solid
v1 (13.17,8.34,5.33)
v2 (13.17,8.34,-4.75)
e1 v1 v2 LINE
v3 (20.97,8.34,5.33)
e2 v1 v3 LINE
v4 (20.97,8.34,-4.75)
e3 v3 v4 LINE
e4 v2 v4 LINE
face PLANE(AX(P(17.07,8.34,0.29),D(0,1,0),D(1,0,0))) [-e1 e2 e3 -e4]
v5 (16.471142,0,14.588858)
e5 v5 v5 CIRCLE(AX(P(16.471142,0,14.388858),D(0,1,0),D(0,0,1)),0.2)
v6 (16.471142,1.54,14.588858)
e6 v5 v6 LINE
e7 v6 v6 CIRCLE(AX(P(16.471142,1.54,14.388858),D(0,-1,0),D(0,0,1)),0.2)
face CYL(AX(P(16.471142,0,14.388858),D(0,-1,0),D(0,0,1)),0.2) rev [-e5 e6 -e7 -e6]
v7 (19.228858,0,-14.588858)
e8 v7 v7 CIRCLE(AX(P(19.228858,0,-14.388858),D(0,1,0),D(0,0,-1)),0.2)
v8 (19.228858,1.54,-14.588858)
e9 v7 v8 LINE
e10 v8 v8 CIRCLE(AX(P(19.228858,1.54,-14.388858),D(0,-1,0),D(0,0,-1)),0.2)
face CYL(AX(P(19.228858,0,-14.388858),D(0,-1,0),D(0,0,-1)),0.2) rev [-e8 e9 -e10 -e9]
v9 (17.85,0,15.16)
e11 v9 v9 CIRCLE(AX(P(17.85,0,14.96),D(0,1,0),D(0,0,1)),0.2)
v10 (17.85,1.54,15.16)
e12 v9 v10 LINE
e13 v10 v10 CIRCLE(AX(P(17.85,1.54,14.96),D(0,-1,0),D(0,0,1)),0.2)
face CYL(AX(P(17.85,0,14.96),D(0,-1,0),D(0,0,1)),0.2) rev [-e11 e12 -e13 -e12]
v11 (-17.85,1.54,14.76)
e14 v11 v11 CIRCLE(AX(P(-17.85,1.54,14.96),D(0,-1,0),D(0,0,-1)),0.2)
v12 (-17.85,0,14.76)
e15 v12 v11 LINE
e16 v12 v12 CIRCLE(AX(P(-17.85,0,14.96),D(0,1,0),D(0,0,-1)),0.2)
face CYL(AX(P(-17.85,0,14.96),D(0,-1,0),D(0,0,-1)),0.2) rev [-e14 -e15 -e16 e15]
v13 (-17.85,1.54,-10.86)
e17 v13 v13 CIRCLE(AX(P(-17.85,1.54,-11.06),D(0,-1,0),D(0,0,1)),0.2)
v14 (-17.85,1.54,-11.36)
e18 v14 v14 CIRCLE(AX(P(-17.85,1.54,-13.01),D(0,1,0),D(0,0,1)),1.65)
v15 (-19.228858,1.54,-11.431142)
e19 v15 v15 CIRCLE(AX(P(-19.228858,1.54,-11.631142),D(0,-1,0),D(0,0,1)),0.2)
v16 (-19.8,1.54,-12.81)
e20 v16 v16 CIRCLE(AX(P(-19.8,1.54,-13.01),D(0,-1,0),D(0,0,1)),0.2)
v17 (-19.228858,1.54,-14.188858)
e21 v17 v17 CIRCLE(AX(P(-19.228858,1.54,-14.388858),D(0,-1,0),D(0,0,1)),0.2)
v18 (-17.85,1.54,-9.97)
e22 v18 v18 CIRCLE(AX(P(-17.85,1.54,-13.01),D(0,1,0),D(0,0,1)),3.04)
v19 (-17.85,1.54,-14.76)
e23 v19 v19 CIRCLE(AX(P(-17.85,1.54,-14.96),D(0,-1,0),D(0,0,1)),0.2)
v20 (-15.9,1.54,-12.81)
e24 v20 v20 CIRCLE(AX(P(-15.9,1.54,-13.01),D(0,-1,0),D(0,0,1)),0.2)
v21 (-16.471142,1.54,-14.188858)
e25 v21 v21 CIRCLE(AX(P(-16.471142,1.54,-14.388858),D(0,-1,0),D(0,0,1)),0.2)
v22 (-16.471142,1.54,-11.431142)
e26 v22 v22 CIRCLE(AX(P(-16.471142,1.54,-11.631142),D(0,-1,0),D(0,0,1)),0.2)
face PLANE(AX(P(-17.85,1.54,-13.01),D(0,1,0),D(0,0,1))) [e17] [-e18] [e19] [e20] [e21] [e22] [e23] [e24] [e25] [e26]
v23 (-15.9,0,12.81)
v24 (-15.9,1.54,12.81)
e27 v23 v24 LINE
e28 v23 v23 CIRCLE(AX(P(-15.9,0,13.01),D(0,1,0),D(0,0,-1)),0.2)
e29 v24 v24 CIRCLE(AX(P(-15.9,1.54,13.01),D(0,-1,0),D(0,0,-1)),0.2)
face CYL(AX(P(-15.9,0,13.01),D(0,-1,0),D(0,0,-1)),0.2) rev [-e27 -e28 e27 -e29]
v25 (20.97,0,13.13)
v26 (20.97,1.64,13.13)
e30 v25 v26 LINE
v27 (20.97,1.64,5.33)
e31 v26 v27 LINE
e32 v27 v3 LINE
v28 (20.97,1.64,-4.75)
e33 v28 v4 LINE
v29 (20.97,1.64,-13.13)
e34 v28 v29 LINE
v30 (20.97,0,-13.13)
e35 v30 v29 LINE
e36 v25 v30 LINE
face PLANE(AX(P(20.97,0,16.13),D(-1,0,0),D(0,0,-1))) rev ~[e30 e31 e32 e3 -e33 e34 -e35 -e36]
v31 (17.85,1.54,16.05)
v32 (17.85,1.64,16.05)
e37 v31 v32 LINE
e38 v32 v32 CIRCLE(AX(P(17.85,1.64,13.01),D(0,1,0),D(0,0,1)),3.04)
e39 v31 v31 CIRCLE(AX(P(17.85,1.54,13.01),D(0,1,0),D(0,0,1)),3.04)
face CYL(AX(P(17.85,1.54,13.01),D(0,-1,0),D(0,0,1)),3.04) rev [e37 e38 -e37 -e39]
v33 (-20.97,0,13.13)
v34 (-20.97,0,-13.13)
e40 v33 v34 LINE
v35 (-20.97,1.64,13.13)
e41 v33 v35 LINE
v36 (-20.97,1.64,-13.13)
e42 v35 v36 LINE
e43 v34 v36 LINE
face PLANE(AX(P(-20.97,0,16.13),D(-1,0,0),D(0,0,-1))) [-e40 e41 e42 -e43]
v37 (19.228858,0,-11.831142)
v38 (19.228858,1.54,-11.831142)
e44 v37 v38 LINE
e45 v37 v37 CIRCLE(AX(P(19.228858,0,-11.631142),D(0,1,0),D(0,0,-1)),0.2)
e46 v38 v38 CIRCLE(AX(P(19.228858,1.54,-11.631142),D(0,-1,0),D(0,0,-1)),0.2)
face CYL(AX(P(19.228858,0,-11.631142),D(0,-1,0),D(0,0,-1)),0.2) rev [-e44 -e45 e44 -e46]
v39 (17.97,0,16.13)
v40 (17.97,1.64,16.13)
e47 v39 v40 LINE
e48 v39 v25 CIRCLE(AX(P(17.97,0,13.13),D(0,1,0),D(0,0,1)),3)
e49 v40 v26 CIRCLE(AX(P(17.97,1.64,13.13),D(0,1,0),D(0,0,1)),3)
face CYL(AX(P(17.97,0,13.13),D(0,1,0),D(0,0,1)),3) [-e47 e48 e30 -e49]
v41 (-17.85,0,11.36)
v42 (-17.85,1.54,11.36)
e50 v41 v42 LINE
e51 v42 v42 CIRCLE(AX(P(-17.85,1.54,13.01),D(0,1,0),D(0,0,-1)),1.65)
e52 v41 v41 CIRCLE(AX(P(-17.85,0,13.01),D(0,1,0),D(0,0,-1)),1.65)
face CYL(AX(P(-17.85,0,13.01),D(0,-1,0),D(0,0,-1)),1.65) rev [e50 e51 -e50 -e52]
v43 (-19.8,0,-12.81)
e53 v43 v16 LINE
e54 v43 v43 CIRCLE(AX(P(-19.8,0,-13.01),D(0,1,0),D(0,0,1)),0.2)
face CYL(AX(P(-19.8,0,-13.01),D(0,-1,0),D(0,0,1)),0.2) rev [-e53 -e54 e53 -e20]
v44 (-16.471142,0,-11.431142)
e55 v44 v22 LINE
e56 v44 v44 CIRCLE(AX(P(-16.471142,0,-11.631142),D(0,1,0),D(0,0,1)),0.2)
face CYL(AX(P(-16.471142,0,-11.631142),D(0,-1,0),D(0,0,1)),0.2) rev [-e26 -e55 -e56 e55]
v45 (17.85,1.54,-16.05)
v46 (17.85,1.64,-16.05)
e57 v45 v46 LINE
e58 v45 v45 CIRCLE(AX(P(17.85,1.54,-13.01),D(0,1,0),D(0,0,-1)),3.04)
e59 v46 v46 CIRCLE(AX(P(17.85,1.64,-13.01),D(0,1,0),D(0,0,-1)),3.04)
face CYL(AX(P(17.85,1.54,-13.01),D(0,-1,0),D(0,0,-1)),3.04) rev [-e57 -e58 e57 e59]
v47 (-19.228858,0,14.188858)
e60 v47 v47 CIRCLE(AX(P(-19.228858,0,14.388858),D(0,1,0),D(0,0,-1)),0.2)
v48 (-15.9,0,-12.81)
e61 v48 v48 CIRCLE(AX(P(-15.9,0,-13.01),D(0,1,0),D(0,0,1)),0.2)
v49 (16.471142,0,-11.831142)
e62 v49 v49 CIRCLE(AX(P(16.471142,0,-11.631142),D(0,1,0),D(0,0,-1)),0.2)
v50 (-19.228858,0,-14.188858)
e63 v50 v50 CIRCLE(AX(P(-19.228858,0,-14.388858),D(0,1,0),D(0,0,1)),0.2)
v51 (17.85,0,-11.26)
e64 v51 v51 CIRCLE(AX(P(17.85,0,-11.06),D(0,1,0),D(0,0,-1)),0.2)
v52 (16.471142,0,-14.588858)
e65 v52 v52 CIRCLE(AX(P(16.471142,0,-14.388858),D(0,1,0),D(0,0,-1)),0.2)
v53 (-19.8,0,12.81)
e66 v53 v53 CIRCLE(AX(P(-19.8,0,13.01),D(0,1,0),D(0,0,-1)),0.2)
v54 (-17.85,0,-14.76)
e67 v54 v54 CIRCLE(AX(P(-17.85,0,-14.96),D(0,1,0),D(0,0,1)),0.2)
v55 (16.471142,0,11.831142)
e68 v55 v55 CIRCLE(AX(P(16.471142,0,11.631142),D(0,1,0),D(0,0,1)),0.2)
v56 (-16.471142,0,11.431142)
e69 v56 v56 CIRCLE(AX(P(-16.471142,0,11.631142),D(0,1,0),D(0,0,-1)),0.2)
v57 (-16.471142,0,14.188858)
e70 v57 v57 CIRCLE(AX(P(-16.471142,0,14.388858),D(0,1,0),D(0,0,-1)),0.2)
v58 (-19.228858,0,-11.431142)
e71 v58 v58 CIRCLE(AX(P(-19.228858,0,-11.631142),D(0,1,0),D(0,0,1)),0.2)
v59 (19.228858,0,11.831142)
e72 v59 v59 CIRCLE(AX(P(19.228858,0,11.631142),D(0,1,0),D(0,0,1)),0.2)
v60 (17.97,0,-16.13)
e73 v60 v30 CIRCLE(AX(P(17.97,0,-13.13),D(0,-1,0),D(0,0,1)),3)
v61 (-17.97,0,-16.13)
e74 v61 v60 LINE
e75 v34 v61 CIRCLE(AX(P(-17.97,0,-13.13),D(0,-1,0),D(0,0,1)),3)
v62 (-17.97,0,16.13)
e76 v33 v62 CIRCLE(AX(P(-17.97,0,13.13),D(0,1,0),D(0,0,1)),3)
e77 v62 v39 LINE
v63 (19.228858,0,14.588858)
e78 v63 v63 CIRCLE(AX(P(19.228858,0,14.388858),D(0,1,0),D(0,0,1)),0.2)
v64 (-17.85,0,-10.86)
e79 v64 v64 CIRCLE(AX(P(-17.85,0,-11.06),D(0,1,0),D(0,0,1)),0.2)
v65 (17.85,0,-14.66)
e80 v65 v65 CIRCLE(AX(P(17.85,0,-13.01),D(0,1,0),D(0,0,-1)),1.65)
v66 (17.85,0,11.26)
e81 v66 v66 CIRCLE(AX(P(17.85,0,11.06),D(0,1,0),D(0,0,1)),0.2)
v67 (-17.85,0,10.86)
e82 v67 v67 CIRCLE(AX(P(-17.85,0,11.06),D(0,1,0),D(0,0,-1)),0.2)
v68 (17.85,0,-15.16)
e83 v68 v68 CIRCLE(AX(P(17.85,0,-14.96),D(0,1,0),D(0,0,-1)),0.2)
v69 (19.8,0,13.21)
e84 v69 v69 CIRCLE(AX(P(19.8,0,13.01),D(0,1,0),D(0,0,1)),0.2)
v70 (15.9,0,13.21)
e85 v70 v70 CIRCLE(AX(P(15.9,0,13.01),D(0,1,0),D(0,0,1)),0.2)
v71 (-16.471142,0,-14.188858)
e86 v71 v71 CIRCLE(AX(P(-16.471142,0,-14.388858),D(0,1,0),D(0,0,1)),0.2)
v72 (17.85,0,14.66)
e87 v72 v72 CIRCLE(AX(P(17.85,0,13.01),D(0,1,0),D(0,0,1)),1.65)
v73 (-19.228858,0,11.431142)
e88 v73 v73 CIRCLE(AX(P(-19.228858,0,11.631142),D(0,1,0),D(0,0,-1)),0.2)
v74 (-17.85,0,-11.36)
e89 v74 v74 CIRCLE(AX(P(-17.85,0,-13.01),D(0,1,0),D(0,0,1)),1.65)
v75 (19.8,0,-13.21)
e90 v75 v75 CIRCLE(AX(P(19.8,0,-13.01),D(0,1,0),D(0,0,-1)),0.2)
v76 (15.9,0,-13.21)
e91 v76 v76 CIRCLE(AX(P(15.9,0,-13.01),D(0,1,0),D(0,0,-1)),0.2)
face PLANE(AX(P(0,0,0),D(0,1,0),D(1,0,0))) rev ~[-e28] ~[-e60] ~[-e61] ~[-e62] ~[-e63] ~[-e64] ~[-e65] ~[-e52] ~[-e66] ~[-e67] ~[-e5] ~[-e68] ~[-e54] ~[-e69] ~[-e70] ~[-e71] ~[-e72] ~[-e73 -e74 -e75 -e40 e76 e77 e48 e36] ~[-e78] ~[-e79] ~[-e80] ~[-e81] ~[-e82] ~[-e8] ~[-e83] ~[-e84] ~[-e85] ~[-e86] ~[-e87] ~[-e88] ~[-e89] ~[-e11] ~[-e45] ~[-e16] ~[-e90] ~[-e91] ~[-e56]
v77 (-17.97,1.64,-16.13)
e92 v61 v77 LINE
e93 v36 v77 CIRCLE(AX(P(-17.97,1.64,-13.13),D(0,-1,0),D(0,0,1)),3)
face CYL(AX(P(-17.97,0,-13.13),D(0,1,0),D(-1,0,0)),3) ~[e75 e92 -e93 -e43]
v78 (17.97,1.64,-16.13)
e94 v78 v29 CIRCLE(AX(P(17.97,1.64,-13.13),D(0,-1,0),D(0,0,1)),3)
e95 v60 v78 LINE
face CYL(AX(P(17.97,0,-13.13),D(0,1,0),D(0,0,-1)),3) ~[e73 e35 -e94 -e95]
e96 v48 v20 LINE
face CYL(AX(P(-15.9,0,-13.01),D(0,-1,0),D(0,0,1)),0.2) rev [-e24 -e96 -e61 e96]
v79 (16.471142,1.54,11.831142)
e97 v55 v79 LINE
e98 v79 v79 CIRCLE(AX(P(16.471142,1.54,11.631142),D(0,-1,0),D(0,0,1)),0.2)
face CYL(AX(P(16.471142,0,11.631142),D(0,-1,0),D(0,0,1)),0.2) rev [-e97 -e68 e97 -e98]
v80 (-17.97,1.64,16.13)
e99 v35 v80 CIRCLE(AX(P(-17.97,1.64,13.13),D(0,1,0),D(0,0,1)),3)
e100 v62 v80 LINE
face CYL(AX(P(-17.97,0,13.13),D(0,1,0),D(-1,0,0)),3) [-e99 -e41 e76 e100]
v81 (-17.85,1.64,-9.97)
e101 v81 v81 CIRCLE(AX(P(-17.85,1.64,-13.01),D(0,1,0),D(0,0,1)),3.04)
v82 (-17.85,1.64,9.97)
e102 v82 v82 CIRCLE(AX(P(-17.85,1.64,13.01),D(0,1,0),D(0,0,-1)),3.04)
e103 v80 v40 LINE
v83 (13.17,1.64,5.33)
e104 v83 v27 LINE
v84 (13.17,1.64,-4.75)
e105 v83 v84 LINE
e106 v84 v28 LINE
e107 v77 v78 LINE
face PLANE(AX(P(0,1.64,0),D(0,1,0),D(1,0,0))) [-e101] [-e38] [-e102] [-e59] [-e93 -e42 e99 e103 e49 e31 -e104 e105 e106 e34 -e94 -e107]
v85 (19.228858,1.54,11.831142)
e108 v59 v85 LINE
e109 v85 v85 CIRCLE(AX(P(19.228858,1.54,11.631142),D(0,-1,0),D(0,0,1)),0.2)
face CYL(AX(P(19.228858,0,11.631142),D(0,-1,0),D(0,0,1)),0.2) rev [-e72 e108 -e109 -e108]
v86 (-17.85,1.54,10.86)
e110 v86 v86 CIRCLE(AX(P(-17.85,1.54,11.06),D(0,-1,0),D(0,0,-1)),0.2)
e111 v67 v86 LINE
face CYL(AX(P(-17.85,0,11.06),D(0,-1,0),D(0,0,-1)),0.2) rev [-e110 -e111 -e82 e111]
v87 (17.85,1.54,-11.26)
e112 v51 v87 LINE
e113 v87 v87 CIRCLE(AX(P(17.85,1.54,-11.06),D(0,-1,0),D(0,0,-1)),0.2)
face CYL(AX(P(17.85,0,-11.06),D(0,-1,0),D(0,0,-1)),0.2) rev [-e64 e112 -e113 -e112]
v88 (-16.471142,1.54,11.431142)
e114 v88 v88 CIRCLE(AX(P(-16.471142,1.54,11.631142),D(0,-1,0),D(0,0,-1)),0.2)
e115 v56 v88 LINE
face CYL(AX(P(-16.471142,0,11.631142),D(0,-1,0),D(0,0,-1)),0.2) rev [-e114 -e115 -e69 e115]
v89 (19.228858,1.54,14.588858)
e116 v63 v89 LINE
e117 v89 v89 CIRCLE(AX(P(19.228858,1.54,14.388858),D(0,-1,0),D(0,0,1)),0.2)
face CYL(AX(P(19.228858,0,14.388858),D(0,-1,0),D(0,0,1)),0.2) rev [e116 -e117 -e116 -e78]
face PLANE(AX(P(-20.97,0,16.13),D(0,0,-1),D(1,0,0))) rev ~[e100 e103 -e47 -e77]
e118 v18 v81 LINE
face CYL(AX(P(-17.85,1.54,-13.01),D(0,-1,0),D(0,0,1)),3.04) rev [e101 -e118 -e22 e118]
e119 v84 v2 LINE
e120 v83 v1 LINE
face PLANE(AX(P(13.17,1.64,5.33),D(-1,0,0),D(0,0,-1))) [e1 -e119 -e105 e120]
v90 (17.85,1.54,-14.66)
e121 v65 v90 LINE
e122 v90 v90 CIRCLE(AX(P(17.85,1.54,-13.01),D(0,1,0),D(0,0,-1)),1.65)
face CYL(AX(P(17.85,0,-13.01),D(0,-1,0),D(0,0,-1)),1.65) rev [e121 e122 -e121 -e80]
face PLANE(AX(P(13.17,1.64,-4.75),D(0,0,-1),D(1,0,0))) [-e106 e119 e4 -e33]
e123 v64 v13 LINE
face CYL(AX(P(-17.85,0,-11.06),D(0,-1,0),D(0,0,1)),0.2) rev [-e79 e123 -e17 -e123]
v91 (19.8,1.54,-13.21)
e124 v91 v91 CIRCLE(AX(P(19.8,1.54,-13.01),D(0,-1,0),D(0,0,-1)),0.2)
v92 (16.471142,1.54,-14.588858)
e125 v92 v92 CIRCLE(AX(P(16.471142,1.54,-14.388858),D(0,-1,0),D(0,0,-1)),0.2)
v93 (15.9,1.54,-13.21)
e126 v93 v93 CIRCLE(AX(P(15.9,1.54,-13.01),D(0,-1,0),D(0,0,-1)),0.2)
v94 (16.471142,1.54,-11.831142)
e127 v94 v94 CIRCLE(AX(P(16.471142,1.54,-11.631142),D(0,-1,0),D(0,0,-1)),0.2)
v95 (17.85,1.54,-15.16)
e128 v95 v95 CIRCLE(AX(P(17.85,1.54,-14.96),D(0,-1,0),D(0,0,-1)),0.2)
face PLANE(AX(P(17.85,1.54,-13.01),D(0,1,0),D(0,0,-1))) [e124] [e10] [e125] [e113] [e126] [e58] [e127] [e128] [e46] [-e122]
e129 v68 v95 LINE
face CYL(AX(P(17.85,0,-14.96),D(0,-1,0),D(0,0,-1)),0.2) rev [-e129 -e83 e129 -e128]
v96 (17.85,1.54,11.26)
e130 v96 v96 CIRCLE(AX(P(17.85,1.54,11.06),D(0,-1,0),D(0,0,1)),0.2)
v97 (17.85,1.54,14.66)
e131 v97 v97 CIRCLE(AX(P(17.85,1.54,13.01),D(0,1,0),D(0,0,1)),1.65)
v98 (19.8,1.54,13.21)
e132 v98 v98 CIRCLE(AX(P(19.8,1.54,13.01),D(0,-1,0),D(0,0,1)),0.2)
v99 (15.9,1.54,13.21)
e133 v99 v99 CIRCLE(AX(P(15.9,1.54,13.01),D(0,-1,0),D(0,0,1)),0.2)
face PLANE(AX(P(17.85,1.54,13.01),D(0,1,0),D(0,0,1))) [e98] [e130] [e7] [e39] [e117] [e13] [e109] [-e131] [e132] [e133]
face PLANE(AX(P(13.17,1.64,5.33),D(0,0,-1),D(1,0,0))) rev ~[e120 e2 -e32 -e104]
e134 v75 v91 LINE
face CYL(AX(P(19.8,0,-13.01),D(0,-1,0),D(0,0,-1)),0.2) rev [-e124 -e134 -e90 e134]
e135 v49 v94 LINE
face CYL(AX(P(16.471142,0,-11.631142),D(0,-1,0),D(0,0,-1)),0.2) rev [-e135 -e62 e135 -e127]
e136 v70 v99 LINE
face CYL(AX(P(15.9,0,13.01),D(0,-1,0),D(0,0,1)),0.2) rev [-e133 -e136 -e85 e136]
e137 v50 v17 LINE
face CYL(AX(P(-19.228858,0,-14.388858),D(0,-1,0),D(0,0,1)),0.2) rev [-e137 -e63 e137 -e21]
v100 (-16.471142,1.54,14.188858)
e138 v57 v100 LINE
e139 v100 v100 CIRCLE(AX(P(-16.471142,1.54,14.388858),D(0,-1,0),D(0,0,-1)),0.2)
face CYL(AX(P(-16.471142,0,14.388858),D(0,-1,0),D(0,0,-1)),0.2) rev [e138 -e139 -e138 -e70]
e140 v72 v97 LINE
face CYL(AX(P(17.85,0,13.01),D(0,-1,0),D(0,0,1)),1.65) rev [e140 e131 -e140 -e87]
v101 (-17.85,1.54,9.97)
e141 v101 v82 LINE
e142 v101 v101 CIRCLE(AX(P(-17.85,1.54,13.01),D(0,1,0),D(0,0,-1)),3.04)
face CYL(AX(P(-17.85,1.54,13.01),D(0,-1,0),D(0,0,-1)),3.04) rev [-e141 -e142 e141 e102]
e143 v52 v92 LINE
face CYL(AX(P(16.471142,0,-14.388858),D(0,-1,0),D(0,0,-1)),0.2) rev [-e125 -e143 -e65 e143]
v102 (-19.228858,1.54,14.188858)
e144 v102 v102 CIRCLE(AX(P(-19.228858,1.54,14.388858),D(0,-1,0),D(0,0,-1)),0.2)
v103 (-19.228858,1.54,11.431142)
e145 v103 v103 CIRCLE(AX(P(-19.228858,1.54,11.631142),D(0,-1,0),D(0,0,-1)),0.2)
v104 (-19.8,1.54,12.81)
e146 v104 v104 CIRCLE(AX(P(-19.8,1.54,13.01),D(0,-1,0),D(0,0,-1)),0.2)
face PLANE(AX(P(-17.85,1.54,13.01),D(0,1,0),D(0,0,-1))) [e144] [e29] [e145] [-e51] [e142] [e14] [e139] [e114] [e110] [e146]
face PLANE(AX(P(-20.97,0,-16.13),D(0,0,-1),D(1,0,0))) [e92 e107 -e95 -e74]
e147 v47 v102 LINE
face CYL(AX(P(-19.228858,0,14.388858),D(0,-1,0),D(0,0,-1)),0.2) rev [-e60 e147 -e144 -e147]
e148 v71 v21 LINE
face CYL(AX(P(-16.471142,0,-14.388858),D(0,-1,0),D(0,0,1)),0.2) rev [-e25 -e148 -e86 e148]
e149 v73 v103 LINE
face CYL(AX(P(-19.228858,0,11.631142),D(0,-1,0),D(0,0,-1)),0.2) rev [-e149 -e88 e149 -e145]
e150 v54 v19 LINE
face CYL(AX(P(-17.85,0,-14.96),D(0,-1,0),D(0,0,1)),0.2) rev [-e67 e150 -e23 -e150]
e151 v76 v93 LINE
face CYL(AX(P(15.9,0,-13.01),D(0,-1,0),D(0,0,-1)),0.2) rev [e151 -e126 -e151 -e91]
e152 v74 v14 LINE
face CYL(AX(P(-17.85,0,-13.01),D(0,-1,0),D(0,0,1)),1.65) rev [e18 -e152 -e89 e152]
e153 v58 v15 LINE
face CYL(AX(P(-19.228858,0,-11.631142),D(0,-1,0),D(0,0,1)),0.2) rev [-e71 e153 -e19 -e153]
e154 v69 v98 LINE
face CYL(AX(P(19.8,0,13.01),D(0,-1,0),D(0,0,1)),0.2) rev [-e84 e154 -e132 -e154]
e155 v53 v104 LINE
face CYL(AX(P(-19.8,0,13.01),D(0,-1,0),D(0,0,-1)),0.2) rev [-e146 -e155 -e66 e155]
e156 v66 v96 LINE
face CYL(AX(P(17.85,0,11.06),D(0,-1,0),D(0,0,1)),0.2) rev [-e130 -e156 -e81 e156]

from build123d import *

# Parameters (mm, degrees)
CROQUIS1_W              = 41.94
CROQUIS1_H              = 32.26
CROQUIS1_R              = 1.65
CROQUIS1_R_2            = 0.2
SALIENTE_EXTRUIR1_DEPTH = 1.64
CORTAR_EXTRUIR1_START   = -0.1
CROQUIS2_R              = 3.04
CROQUIS2_R_2            = 1.65
CORTAR_EXTRUIR1_DEPTH   = 0.1
REDONDEO2_R             = 3
CROQUIS3_W              = 7.8
CROQUIS3_H              = 10.08
SALIENTE_EXTRUIR2_DEPTH = 6.7


with BuildPart() as part:
    # Croquis1 → Saliente-Extruir1 (new body)
    with BuildSketch(Plane(origin=(0, 0, 0), x_dir=(1, 0, 0), z_dir=(0, 1, 0))):
        Rectangle(CROQUIS1_W, CROQUIS1_H)
        with Locations(Location((-17.85, 13.01, 0), (0, 0, 270))):
            Circle(CROQUIS1_R, mode=Mode.SUBTRACT)
        with Locations(Location((17.85, 13.01, 0), (0, 0, 90))):
            Circle(CROQUIS1_R, mode=Mode.SUBTRACT)
        with Locations(Location((17.85, -13.01, 0), (0, 0, 270))):
            Circle(CROQUIS1_R, mode=Mode.SUBTRACT)
        with Locations(Location((-17.85, -13.01, 0), (0, 0, 90))):
            Circle(CROQUIS1_R, mode=Mode.SUBTRACT)
        with Locations(Location((-15.9, 13.01, 0), (0, 0, 270))):
            Circle(CROQUIS1_R_2, mode=Mode.SUBTRACT)
        with Locations(Location((-16.471141777, 11.631141777, 0), (0, 0, 270))):
            Circle(CROQUIS1_R_2, mode=Mode.SUBTRACT)
        with Locations(Location((-17.85, 11.06, 0), (0, 0, 270))):
            Circle(CROQUIS1_R_2, mode=Mode.SUBTRACT)
        with Locations(Location((-19.228858223, 11.631141777, 0), (0, 0, 270))):
            Circle(CROQUIS1_R_2, mode=Mode.SUBTRACT)
        with Locations(Location((-19.8, 13.01, 0), (0, 0, 270))):
            Circle(CROQUIS1_R_2, mode=Mode.SUBTRACT)
        with Locations(Location((-19.228858223, 14.388858223, 0), (0, 0, 270))):
            Circle(CROQUIS1_R_2, mode=Mode.SUBTRACT)
        with Locations(Location((-17.85, 14.96, 0), (0, 0, 270))):
            Circle(CROQUIS1_R_2, mode=Mode.SUBTRACT)
        with Locations(Location((-16.471141777, 14.388858223, 0), (0, 0, 270))):
            Circle(CROQUIS1_R_2, mode=Mode.SUBTRACT)
        with Locations(Location((19.8, 13.01, 0), (0, 0, 90))):
            Circle(CROQUIS1_R_2, mode=Mode.SUBTRACT)
        with Locations(Location((19.228858223, 14.388858223, 0), (0, 0, 90))):
            Circle(CROQUIS1_R_2, mode=Mode.SUBTRACT)
        with Locations(Location((17.85, 14.96, 0), (0, 0, 90))):
            Circle(CROQUIS1_R_2, mode=Mode.SUBTRACT)
        with Locations(Location((16.471141777, 14.388858223, 0), (0, 0, 90))):
            Circle(CROQUIS1_R_2, mode=Mode.SUBTRACT)
        with Locations(Location((15.9, 13.01, 0), (0, 0, 90))):
            Circle(CROQUIS1_R_2, mode=Mode.SUBTRACT)
        with Locations(Location((16.471141777, 11.631141777, 0), (0, 0, 90))):
            Circle(CROQUIS1_R_2, mode=Mode.SUBTRACT)
        with Locations(Location((19.228858223, 11.631141777, 0), (0, 0, 90))):
            Circle(CROQUIS1_R_2, mode=Mode.SUBTRACT)
        with Locations(Location((17.85, 11.06, 0), (0, 0, 90))):
            Circle(CROQUIS1_R_2, mode=Mode.SUBTRACT)
        with Locations(Location((19.228858223, -11.631141777, 0), (0, 0, 270))):
            Circle(CROQUIS1_R_2, mode=Mode.SUBTRACT)
        with Locations(Location((19.8, -13.01, 0), (0, 0, 270))):
            Circle(CROQUIS1_R_2, mode=Mode.SUBTRACT)
        with Locations(Location((19.228858223, -14.388858223, 0), (0, 0, 270))):
            Circle(CROQUIS1_R_2, mode=Mode.SUBTRACT)
        with Locations(Location((17.85, -14.96, 0), (0, 0, 270))):
            Circle(CROQUIS1_R_2, mode=Mode.SUBTRACT)
        with Locations(Location((16.471141777, -14.388858223, 0), (0, 0, 270))):
            Circle(CROQUIS1_R_2, mode=Mode.SUBTRACT)
        with Locations(Location((15.9, -13.01, 0), (0, 0, 270))):
            Circle(CROQUIS1_R_2, mode=Mode.SUBTRACT)
        with Locations(Location((17.85, -11.06, 0), (0, 0, 270))):
            Circle(CROQUIS1_R_2, mode=Mode.SUBTRACT)
        with Locations(Location((16.471141777, -11.631141777, 0), (0, 0, 270))):
            Circle(CROQUIS1_R_2, mode=Mode.SUBTRACT)
        with Locations(Location((-19.228858223, -14.388858223, 0), (0, 0, 90))):
            Circle(CROQUIS1_R_2, mode=Mode.SUBTRACT)
        with Locations(Location((-17.85, -14.96, 0), (0, 0, 90))):
            Circle(CROQUIS1_R_2, mode=Mode.SUBTRACT)
        with Locations(Location((-16.471141777, -14.388858223, 0), (0, 0, 90))):
            Circle(CROQUIS1_R_2, mode=Mode.SUBTRACT)
        with Locations(Location((-15.9, -13.01, 0), (0, 0, 90))):
            Circle(CROQUIS1_R_2, mode=Mode.SUBTRACT)
        with Locations(Location((-19.8, -13.01, 0), (0, 0, 90))):
            Circle(CROQUIS1_R_2, mode=Mode.SUBTRACT)
        with Locations(Location((-19.228858223, -11.631141777, 0), (0, 0, 90))):
            Circle(CROQUIS1_R_2, mode=Mode.SUBTRACT)
        with Locations(Location((-17.85, -11.06, 0), (0, 0, 90))):
            Circle(CROQUIS1_R_2, mode=Mode.SUBTRACT)
        with Locations(Location((-16.471141777, -11.631141777, 0), (0, 0, 90))):
            Circle(CROQUIS1_R_2, mode=Mode.SUBTRACT)
    extrude(amount=SALIENTE_EXTRUIR1_DEPTH)

    # Croquis2 → Cortar-Extruir1 (cut)
    # profile 1 of 4: a face of its own
    with BuildSketch(Plane(origin=(0, 1.64, 0), x_dir=(1, 0, 0), z_dir=(0, 1, 0)).offset(CORTAR_EXTRUIR1_START)):
        with Locations(Location((-17.85, 13.01, 0), (0, 0, 270))):
            Circle(CROQUIS2_R)
        with Locations(Location((-17.85, 13.01, 0), (0, 0, 270))):
            Circle(CROQUIS2_R_2, mode=Mode.SUBTRACT)
    # profile 2 of 4: a face of its own
    with BuildSketch(Plane(origin=(0, 1.64, 0), x_dir=(1, 0, 0), z_dir=(0, 1, 0)).offset(CORTAR_EXTRUIR1_START)):
        with Locations(Location((17.85, 13.01, 0), (0, 0, 90))):
            Circle(CROQUIS2_R)
        with Locations(Location((17.85, 13.01, 0), (0, 0, 90))):
            Circle(CROQUIS2_R_2, mode=Mode.SUBTRACT)
    # profile 3 of 4: a face of its own
    with BuildSketch(Plane(origin=(0, 1.64, 0), x_dir=(1, 0, 0), z_dir=(0, 1, 0)).offset(CORTAR_EXTRUIR1_START)):
        with Locations(Location((17.85, -13.01, 0), (0, 0, 270))):
            Circle(CROQUIS2_R)
        with Locations(Location((17.85, -13.01, 0), (0, 0, 270))):
            Circle(CROQUIS2_R_2, mode=Mode.SUBTRACT)
    # profile 4 of 4: a face of its own
    with BuildSketch(Plane(origin=(0, 1.64, 0), x_dir=(1, 0, 0), z_dir=(0, 1, 0)).offset(CORTAR_EXTRUIR1_START)):
        with Locations(Location((-17.85, -13.01, 0), (0, 0, 90))):
            Circle(CROQUIS2_R)
        with Locations(Location((-17.85, -13.01, 0), (0, 0, 90))):
            Circle(CROQUIS2_R_2, mode=Mode.SUBTRACT)
    extrude(amount=CORTAR_EXTRUIR1_DEPTH, mode=Mode.SUBTRACT)

    # Redondeo2
    redondeo2_edges = [part.edges().sort_by_distance(p)[0] for p in [
        (20.97, 0.82, 16.13),
        (-20.97, 0.82, 16.13),
        (-20.97, 0.82, -16.13),
        (20.97, 0.82, -16.13),
    ]]
    fillet(redondeo2_edges, radius=REDONDEO2_R)

    # Croquis3 → Saliente-Extruir2 (add)
    with BuildSketch(Plane(origin=(0, 1.64, 0), x_dir=(1, 0, 0), z_dir=(0, 1, 0))):
        with Locations((17.07, -0.29)):
            Rectangle(CROQUIS3_W, CROQUIS3_H)
    extrude(amount=SALIENTE_EXTRUIR2_DEPTH)


solid = part.part
